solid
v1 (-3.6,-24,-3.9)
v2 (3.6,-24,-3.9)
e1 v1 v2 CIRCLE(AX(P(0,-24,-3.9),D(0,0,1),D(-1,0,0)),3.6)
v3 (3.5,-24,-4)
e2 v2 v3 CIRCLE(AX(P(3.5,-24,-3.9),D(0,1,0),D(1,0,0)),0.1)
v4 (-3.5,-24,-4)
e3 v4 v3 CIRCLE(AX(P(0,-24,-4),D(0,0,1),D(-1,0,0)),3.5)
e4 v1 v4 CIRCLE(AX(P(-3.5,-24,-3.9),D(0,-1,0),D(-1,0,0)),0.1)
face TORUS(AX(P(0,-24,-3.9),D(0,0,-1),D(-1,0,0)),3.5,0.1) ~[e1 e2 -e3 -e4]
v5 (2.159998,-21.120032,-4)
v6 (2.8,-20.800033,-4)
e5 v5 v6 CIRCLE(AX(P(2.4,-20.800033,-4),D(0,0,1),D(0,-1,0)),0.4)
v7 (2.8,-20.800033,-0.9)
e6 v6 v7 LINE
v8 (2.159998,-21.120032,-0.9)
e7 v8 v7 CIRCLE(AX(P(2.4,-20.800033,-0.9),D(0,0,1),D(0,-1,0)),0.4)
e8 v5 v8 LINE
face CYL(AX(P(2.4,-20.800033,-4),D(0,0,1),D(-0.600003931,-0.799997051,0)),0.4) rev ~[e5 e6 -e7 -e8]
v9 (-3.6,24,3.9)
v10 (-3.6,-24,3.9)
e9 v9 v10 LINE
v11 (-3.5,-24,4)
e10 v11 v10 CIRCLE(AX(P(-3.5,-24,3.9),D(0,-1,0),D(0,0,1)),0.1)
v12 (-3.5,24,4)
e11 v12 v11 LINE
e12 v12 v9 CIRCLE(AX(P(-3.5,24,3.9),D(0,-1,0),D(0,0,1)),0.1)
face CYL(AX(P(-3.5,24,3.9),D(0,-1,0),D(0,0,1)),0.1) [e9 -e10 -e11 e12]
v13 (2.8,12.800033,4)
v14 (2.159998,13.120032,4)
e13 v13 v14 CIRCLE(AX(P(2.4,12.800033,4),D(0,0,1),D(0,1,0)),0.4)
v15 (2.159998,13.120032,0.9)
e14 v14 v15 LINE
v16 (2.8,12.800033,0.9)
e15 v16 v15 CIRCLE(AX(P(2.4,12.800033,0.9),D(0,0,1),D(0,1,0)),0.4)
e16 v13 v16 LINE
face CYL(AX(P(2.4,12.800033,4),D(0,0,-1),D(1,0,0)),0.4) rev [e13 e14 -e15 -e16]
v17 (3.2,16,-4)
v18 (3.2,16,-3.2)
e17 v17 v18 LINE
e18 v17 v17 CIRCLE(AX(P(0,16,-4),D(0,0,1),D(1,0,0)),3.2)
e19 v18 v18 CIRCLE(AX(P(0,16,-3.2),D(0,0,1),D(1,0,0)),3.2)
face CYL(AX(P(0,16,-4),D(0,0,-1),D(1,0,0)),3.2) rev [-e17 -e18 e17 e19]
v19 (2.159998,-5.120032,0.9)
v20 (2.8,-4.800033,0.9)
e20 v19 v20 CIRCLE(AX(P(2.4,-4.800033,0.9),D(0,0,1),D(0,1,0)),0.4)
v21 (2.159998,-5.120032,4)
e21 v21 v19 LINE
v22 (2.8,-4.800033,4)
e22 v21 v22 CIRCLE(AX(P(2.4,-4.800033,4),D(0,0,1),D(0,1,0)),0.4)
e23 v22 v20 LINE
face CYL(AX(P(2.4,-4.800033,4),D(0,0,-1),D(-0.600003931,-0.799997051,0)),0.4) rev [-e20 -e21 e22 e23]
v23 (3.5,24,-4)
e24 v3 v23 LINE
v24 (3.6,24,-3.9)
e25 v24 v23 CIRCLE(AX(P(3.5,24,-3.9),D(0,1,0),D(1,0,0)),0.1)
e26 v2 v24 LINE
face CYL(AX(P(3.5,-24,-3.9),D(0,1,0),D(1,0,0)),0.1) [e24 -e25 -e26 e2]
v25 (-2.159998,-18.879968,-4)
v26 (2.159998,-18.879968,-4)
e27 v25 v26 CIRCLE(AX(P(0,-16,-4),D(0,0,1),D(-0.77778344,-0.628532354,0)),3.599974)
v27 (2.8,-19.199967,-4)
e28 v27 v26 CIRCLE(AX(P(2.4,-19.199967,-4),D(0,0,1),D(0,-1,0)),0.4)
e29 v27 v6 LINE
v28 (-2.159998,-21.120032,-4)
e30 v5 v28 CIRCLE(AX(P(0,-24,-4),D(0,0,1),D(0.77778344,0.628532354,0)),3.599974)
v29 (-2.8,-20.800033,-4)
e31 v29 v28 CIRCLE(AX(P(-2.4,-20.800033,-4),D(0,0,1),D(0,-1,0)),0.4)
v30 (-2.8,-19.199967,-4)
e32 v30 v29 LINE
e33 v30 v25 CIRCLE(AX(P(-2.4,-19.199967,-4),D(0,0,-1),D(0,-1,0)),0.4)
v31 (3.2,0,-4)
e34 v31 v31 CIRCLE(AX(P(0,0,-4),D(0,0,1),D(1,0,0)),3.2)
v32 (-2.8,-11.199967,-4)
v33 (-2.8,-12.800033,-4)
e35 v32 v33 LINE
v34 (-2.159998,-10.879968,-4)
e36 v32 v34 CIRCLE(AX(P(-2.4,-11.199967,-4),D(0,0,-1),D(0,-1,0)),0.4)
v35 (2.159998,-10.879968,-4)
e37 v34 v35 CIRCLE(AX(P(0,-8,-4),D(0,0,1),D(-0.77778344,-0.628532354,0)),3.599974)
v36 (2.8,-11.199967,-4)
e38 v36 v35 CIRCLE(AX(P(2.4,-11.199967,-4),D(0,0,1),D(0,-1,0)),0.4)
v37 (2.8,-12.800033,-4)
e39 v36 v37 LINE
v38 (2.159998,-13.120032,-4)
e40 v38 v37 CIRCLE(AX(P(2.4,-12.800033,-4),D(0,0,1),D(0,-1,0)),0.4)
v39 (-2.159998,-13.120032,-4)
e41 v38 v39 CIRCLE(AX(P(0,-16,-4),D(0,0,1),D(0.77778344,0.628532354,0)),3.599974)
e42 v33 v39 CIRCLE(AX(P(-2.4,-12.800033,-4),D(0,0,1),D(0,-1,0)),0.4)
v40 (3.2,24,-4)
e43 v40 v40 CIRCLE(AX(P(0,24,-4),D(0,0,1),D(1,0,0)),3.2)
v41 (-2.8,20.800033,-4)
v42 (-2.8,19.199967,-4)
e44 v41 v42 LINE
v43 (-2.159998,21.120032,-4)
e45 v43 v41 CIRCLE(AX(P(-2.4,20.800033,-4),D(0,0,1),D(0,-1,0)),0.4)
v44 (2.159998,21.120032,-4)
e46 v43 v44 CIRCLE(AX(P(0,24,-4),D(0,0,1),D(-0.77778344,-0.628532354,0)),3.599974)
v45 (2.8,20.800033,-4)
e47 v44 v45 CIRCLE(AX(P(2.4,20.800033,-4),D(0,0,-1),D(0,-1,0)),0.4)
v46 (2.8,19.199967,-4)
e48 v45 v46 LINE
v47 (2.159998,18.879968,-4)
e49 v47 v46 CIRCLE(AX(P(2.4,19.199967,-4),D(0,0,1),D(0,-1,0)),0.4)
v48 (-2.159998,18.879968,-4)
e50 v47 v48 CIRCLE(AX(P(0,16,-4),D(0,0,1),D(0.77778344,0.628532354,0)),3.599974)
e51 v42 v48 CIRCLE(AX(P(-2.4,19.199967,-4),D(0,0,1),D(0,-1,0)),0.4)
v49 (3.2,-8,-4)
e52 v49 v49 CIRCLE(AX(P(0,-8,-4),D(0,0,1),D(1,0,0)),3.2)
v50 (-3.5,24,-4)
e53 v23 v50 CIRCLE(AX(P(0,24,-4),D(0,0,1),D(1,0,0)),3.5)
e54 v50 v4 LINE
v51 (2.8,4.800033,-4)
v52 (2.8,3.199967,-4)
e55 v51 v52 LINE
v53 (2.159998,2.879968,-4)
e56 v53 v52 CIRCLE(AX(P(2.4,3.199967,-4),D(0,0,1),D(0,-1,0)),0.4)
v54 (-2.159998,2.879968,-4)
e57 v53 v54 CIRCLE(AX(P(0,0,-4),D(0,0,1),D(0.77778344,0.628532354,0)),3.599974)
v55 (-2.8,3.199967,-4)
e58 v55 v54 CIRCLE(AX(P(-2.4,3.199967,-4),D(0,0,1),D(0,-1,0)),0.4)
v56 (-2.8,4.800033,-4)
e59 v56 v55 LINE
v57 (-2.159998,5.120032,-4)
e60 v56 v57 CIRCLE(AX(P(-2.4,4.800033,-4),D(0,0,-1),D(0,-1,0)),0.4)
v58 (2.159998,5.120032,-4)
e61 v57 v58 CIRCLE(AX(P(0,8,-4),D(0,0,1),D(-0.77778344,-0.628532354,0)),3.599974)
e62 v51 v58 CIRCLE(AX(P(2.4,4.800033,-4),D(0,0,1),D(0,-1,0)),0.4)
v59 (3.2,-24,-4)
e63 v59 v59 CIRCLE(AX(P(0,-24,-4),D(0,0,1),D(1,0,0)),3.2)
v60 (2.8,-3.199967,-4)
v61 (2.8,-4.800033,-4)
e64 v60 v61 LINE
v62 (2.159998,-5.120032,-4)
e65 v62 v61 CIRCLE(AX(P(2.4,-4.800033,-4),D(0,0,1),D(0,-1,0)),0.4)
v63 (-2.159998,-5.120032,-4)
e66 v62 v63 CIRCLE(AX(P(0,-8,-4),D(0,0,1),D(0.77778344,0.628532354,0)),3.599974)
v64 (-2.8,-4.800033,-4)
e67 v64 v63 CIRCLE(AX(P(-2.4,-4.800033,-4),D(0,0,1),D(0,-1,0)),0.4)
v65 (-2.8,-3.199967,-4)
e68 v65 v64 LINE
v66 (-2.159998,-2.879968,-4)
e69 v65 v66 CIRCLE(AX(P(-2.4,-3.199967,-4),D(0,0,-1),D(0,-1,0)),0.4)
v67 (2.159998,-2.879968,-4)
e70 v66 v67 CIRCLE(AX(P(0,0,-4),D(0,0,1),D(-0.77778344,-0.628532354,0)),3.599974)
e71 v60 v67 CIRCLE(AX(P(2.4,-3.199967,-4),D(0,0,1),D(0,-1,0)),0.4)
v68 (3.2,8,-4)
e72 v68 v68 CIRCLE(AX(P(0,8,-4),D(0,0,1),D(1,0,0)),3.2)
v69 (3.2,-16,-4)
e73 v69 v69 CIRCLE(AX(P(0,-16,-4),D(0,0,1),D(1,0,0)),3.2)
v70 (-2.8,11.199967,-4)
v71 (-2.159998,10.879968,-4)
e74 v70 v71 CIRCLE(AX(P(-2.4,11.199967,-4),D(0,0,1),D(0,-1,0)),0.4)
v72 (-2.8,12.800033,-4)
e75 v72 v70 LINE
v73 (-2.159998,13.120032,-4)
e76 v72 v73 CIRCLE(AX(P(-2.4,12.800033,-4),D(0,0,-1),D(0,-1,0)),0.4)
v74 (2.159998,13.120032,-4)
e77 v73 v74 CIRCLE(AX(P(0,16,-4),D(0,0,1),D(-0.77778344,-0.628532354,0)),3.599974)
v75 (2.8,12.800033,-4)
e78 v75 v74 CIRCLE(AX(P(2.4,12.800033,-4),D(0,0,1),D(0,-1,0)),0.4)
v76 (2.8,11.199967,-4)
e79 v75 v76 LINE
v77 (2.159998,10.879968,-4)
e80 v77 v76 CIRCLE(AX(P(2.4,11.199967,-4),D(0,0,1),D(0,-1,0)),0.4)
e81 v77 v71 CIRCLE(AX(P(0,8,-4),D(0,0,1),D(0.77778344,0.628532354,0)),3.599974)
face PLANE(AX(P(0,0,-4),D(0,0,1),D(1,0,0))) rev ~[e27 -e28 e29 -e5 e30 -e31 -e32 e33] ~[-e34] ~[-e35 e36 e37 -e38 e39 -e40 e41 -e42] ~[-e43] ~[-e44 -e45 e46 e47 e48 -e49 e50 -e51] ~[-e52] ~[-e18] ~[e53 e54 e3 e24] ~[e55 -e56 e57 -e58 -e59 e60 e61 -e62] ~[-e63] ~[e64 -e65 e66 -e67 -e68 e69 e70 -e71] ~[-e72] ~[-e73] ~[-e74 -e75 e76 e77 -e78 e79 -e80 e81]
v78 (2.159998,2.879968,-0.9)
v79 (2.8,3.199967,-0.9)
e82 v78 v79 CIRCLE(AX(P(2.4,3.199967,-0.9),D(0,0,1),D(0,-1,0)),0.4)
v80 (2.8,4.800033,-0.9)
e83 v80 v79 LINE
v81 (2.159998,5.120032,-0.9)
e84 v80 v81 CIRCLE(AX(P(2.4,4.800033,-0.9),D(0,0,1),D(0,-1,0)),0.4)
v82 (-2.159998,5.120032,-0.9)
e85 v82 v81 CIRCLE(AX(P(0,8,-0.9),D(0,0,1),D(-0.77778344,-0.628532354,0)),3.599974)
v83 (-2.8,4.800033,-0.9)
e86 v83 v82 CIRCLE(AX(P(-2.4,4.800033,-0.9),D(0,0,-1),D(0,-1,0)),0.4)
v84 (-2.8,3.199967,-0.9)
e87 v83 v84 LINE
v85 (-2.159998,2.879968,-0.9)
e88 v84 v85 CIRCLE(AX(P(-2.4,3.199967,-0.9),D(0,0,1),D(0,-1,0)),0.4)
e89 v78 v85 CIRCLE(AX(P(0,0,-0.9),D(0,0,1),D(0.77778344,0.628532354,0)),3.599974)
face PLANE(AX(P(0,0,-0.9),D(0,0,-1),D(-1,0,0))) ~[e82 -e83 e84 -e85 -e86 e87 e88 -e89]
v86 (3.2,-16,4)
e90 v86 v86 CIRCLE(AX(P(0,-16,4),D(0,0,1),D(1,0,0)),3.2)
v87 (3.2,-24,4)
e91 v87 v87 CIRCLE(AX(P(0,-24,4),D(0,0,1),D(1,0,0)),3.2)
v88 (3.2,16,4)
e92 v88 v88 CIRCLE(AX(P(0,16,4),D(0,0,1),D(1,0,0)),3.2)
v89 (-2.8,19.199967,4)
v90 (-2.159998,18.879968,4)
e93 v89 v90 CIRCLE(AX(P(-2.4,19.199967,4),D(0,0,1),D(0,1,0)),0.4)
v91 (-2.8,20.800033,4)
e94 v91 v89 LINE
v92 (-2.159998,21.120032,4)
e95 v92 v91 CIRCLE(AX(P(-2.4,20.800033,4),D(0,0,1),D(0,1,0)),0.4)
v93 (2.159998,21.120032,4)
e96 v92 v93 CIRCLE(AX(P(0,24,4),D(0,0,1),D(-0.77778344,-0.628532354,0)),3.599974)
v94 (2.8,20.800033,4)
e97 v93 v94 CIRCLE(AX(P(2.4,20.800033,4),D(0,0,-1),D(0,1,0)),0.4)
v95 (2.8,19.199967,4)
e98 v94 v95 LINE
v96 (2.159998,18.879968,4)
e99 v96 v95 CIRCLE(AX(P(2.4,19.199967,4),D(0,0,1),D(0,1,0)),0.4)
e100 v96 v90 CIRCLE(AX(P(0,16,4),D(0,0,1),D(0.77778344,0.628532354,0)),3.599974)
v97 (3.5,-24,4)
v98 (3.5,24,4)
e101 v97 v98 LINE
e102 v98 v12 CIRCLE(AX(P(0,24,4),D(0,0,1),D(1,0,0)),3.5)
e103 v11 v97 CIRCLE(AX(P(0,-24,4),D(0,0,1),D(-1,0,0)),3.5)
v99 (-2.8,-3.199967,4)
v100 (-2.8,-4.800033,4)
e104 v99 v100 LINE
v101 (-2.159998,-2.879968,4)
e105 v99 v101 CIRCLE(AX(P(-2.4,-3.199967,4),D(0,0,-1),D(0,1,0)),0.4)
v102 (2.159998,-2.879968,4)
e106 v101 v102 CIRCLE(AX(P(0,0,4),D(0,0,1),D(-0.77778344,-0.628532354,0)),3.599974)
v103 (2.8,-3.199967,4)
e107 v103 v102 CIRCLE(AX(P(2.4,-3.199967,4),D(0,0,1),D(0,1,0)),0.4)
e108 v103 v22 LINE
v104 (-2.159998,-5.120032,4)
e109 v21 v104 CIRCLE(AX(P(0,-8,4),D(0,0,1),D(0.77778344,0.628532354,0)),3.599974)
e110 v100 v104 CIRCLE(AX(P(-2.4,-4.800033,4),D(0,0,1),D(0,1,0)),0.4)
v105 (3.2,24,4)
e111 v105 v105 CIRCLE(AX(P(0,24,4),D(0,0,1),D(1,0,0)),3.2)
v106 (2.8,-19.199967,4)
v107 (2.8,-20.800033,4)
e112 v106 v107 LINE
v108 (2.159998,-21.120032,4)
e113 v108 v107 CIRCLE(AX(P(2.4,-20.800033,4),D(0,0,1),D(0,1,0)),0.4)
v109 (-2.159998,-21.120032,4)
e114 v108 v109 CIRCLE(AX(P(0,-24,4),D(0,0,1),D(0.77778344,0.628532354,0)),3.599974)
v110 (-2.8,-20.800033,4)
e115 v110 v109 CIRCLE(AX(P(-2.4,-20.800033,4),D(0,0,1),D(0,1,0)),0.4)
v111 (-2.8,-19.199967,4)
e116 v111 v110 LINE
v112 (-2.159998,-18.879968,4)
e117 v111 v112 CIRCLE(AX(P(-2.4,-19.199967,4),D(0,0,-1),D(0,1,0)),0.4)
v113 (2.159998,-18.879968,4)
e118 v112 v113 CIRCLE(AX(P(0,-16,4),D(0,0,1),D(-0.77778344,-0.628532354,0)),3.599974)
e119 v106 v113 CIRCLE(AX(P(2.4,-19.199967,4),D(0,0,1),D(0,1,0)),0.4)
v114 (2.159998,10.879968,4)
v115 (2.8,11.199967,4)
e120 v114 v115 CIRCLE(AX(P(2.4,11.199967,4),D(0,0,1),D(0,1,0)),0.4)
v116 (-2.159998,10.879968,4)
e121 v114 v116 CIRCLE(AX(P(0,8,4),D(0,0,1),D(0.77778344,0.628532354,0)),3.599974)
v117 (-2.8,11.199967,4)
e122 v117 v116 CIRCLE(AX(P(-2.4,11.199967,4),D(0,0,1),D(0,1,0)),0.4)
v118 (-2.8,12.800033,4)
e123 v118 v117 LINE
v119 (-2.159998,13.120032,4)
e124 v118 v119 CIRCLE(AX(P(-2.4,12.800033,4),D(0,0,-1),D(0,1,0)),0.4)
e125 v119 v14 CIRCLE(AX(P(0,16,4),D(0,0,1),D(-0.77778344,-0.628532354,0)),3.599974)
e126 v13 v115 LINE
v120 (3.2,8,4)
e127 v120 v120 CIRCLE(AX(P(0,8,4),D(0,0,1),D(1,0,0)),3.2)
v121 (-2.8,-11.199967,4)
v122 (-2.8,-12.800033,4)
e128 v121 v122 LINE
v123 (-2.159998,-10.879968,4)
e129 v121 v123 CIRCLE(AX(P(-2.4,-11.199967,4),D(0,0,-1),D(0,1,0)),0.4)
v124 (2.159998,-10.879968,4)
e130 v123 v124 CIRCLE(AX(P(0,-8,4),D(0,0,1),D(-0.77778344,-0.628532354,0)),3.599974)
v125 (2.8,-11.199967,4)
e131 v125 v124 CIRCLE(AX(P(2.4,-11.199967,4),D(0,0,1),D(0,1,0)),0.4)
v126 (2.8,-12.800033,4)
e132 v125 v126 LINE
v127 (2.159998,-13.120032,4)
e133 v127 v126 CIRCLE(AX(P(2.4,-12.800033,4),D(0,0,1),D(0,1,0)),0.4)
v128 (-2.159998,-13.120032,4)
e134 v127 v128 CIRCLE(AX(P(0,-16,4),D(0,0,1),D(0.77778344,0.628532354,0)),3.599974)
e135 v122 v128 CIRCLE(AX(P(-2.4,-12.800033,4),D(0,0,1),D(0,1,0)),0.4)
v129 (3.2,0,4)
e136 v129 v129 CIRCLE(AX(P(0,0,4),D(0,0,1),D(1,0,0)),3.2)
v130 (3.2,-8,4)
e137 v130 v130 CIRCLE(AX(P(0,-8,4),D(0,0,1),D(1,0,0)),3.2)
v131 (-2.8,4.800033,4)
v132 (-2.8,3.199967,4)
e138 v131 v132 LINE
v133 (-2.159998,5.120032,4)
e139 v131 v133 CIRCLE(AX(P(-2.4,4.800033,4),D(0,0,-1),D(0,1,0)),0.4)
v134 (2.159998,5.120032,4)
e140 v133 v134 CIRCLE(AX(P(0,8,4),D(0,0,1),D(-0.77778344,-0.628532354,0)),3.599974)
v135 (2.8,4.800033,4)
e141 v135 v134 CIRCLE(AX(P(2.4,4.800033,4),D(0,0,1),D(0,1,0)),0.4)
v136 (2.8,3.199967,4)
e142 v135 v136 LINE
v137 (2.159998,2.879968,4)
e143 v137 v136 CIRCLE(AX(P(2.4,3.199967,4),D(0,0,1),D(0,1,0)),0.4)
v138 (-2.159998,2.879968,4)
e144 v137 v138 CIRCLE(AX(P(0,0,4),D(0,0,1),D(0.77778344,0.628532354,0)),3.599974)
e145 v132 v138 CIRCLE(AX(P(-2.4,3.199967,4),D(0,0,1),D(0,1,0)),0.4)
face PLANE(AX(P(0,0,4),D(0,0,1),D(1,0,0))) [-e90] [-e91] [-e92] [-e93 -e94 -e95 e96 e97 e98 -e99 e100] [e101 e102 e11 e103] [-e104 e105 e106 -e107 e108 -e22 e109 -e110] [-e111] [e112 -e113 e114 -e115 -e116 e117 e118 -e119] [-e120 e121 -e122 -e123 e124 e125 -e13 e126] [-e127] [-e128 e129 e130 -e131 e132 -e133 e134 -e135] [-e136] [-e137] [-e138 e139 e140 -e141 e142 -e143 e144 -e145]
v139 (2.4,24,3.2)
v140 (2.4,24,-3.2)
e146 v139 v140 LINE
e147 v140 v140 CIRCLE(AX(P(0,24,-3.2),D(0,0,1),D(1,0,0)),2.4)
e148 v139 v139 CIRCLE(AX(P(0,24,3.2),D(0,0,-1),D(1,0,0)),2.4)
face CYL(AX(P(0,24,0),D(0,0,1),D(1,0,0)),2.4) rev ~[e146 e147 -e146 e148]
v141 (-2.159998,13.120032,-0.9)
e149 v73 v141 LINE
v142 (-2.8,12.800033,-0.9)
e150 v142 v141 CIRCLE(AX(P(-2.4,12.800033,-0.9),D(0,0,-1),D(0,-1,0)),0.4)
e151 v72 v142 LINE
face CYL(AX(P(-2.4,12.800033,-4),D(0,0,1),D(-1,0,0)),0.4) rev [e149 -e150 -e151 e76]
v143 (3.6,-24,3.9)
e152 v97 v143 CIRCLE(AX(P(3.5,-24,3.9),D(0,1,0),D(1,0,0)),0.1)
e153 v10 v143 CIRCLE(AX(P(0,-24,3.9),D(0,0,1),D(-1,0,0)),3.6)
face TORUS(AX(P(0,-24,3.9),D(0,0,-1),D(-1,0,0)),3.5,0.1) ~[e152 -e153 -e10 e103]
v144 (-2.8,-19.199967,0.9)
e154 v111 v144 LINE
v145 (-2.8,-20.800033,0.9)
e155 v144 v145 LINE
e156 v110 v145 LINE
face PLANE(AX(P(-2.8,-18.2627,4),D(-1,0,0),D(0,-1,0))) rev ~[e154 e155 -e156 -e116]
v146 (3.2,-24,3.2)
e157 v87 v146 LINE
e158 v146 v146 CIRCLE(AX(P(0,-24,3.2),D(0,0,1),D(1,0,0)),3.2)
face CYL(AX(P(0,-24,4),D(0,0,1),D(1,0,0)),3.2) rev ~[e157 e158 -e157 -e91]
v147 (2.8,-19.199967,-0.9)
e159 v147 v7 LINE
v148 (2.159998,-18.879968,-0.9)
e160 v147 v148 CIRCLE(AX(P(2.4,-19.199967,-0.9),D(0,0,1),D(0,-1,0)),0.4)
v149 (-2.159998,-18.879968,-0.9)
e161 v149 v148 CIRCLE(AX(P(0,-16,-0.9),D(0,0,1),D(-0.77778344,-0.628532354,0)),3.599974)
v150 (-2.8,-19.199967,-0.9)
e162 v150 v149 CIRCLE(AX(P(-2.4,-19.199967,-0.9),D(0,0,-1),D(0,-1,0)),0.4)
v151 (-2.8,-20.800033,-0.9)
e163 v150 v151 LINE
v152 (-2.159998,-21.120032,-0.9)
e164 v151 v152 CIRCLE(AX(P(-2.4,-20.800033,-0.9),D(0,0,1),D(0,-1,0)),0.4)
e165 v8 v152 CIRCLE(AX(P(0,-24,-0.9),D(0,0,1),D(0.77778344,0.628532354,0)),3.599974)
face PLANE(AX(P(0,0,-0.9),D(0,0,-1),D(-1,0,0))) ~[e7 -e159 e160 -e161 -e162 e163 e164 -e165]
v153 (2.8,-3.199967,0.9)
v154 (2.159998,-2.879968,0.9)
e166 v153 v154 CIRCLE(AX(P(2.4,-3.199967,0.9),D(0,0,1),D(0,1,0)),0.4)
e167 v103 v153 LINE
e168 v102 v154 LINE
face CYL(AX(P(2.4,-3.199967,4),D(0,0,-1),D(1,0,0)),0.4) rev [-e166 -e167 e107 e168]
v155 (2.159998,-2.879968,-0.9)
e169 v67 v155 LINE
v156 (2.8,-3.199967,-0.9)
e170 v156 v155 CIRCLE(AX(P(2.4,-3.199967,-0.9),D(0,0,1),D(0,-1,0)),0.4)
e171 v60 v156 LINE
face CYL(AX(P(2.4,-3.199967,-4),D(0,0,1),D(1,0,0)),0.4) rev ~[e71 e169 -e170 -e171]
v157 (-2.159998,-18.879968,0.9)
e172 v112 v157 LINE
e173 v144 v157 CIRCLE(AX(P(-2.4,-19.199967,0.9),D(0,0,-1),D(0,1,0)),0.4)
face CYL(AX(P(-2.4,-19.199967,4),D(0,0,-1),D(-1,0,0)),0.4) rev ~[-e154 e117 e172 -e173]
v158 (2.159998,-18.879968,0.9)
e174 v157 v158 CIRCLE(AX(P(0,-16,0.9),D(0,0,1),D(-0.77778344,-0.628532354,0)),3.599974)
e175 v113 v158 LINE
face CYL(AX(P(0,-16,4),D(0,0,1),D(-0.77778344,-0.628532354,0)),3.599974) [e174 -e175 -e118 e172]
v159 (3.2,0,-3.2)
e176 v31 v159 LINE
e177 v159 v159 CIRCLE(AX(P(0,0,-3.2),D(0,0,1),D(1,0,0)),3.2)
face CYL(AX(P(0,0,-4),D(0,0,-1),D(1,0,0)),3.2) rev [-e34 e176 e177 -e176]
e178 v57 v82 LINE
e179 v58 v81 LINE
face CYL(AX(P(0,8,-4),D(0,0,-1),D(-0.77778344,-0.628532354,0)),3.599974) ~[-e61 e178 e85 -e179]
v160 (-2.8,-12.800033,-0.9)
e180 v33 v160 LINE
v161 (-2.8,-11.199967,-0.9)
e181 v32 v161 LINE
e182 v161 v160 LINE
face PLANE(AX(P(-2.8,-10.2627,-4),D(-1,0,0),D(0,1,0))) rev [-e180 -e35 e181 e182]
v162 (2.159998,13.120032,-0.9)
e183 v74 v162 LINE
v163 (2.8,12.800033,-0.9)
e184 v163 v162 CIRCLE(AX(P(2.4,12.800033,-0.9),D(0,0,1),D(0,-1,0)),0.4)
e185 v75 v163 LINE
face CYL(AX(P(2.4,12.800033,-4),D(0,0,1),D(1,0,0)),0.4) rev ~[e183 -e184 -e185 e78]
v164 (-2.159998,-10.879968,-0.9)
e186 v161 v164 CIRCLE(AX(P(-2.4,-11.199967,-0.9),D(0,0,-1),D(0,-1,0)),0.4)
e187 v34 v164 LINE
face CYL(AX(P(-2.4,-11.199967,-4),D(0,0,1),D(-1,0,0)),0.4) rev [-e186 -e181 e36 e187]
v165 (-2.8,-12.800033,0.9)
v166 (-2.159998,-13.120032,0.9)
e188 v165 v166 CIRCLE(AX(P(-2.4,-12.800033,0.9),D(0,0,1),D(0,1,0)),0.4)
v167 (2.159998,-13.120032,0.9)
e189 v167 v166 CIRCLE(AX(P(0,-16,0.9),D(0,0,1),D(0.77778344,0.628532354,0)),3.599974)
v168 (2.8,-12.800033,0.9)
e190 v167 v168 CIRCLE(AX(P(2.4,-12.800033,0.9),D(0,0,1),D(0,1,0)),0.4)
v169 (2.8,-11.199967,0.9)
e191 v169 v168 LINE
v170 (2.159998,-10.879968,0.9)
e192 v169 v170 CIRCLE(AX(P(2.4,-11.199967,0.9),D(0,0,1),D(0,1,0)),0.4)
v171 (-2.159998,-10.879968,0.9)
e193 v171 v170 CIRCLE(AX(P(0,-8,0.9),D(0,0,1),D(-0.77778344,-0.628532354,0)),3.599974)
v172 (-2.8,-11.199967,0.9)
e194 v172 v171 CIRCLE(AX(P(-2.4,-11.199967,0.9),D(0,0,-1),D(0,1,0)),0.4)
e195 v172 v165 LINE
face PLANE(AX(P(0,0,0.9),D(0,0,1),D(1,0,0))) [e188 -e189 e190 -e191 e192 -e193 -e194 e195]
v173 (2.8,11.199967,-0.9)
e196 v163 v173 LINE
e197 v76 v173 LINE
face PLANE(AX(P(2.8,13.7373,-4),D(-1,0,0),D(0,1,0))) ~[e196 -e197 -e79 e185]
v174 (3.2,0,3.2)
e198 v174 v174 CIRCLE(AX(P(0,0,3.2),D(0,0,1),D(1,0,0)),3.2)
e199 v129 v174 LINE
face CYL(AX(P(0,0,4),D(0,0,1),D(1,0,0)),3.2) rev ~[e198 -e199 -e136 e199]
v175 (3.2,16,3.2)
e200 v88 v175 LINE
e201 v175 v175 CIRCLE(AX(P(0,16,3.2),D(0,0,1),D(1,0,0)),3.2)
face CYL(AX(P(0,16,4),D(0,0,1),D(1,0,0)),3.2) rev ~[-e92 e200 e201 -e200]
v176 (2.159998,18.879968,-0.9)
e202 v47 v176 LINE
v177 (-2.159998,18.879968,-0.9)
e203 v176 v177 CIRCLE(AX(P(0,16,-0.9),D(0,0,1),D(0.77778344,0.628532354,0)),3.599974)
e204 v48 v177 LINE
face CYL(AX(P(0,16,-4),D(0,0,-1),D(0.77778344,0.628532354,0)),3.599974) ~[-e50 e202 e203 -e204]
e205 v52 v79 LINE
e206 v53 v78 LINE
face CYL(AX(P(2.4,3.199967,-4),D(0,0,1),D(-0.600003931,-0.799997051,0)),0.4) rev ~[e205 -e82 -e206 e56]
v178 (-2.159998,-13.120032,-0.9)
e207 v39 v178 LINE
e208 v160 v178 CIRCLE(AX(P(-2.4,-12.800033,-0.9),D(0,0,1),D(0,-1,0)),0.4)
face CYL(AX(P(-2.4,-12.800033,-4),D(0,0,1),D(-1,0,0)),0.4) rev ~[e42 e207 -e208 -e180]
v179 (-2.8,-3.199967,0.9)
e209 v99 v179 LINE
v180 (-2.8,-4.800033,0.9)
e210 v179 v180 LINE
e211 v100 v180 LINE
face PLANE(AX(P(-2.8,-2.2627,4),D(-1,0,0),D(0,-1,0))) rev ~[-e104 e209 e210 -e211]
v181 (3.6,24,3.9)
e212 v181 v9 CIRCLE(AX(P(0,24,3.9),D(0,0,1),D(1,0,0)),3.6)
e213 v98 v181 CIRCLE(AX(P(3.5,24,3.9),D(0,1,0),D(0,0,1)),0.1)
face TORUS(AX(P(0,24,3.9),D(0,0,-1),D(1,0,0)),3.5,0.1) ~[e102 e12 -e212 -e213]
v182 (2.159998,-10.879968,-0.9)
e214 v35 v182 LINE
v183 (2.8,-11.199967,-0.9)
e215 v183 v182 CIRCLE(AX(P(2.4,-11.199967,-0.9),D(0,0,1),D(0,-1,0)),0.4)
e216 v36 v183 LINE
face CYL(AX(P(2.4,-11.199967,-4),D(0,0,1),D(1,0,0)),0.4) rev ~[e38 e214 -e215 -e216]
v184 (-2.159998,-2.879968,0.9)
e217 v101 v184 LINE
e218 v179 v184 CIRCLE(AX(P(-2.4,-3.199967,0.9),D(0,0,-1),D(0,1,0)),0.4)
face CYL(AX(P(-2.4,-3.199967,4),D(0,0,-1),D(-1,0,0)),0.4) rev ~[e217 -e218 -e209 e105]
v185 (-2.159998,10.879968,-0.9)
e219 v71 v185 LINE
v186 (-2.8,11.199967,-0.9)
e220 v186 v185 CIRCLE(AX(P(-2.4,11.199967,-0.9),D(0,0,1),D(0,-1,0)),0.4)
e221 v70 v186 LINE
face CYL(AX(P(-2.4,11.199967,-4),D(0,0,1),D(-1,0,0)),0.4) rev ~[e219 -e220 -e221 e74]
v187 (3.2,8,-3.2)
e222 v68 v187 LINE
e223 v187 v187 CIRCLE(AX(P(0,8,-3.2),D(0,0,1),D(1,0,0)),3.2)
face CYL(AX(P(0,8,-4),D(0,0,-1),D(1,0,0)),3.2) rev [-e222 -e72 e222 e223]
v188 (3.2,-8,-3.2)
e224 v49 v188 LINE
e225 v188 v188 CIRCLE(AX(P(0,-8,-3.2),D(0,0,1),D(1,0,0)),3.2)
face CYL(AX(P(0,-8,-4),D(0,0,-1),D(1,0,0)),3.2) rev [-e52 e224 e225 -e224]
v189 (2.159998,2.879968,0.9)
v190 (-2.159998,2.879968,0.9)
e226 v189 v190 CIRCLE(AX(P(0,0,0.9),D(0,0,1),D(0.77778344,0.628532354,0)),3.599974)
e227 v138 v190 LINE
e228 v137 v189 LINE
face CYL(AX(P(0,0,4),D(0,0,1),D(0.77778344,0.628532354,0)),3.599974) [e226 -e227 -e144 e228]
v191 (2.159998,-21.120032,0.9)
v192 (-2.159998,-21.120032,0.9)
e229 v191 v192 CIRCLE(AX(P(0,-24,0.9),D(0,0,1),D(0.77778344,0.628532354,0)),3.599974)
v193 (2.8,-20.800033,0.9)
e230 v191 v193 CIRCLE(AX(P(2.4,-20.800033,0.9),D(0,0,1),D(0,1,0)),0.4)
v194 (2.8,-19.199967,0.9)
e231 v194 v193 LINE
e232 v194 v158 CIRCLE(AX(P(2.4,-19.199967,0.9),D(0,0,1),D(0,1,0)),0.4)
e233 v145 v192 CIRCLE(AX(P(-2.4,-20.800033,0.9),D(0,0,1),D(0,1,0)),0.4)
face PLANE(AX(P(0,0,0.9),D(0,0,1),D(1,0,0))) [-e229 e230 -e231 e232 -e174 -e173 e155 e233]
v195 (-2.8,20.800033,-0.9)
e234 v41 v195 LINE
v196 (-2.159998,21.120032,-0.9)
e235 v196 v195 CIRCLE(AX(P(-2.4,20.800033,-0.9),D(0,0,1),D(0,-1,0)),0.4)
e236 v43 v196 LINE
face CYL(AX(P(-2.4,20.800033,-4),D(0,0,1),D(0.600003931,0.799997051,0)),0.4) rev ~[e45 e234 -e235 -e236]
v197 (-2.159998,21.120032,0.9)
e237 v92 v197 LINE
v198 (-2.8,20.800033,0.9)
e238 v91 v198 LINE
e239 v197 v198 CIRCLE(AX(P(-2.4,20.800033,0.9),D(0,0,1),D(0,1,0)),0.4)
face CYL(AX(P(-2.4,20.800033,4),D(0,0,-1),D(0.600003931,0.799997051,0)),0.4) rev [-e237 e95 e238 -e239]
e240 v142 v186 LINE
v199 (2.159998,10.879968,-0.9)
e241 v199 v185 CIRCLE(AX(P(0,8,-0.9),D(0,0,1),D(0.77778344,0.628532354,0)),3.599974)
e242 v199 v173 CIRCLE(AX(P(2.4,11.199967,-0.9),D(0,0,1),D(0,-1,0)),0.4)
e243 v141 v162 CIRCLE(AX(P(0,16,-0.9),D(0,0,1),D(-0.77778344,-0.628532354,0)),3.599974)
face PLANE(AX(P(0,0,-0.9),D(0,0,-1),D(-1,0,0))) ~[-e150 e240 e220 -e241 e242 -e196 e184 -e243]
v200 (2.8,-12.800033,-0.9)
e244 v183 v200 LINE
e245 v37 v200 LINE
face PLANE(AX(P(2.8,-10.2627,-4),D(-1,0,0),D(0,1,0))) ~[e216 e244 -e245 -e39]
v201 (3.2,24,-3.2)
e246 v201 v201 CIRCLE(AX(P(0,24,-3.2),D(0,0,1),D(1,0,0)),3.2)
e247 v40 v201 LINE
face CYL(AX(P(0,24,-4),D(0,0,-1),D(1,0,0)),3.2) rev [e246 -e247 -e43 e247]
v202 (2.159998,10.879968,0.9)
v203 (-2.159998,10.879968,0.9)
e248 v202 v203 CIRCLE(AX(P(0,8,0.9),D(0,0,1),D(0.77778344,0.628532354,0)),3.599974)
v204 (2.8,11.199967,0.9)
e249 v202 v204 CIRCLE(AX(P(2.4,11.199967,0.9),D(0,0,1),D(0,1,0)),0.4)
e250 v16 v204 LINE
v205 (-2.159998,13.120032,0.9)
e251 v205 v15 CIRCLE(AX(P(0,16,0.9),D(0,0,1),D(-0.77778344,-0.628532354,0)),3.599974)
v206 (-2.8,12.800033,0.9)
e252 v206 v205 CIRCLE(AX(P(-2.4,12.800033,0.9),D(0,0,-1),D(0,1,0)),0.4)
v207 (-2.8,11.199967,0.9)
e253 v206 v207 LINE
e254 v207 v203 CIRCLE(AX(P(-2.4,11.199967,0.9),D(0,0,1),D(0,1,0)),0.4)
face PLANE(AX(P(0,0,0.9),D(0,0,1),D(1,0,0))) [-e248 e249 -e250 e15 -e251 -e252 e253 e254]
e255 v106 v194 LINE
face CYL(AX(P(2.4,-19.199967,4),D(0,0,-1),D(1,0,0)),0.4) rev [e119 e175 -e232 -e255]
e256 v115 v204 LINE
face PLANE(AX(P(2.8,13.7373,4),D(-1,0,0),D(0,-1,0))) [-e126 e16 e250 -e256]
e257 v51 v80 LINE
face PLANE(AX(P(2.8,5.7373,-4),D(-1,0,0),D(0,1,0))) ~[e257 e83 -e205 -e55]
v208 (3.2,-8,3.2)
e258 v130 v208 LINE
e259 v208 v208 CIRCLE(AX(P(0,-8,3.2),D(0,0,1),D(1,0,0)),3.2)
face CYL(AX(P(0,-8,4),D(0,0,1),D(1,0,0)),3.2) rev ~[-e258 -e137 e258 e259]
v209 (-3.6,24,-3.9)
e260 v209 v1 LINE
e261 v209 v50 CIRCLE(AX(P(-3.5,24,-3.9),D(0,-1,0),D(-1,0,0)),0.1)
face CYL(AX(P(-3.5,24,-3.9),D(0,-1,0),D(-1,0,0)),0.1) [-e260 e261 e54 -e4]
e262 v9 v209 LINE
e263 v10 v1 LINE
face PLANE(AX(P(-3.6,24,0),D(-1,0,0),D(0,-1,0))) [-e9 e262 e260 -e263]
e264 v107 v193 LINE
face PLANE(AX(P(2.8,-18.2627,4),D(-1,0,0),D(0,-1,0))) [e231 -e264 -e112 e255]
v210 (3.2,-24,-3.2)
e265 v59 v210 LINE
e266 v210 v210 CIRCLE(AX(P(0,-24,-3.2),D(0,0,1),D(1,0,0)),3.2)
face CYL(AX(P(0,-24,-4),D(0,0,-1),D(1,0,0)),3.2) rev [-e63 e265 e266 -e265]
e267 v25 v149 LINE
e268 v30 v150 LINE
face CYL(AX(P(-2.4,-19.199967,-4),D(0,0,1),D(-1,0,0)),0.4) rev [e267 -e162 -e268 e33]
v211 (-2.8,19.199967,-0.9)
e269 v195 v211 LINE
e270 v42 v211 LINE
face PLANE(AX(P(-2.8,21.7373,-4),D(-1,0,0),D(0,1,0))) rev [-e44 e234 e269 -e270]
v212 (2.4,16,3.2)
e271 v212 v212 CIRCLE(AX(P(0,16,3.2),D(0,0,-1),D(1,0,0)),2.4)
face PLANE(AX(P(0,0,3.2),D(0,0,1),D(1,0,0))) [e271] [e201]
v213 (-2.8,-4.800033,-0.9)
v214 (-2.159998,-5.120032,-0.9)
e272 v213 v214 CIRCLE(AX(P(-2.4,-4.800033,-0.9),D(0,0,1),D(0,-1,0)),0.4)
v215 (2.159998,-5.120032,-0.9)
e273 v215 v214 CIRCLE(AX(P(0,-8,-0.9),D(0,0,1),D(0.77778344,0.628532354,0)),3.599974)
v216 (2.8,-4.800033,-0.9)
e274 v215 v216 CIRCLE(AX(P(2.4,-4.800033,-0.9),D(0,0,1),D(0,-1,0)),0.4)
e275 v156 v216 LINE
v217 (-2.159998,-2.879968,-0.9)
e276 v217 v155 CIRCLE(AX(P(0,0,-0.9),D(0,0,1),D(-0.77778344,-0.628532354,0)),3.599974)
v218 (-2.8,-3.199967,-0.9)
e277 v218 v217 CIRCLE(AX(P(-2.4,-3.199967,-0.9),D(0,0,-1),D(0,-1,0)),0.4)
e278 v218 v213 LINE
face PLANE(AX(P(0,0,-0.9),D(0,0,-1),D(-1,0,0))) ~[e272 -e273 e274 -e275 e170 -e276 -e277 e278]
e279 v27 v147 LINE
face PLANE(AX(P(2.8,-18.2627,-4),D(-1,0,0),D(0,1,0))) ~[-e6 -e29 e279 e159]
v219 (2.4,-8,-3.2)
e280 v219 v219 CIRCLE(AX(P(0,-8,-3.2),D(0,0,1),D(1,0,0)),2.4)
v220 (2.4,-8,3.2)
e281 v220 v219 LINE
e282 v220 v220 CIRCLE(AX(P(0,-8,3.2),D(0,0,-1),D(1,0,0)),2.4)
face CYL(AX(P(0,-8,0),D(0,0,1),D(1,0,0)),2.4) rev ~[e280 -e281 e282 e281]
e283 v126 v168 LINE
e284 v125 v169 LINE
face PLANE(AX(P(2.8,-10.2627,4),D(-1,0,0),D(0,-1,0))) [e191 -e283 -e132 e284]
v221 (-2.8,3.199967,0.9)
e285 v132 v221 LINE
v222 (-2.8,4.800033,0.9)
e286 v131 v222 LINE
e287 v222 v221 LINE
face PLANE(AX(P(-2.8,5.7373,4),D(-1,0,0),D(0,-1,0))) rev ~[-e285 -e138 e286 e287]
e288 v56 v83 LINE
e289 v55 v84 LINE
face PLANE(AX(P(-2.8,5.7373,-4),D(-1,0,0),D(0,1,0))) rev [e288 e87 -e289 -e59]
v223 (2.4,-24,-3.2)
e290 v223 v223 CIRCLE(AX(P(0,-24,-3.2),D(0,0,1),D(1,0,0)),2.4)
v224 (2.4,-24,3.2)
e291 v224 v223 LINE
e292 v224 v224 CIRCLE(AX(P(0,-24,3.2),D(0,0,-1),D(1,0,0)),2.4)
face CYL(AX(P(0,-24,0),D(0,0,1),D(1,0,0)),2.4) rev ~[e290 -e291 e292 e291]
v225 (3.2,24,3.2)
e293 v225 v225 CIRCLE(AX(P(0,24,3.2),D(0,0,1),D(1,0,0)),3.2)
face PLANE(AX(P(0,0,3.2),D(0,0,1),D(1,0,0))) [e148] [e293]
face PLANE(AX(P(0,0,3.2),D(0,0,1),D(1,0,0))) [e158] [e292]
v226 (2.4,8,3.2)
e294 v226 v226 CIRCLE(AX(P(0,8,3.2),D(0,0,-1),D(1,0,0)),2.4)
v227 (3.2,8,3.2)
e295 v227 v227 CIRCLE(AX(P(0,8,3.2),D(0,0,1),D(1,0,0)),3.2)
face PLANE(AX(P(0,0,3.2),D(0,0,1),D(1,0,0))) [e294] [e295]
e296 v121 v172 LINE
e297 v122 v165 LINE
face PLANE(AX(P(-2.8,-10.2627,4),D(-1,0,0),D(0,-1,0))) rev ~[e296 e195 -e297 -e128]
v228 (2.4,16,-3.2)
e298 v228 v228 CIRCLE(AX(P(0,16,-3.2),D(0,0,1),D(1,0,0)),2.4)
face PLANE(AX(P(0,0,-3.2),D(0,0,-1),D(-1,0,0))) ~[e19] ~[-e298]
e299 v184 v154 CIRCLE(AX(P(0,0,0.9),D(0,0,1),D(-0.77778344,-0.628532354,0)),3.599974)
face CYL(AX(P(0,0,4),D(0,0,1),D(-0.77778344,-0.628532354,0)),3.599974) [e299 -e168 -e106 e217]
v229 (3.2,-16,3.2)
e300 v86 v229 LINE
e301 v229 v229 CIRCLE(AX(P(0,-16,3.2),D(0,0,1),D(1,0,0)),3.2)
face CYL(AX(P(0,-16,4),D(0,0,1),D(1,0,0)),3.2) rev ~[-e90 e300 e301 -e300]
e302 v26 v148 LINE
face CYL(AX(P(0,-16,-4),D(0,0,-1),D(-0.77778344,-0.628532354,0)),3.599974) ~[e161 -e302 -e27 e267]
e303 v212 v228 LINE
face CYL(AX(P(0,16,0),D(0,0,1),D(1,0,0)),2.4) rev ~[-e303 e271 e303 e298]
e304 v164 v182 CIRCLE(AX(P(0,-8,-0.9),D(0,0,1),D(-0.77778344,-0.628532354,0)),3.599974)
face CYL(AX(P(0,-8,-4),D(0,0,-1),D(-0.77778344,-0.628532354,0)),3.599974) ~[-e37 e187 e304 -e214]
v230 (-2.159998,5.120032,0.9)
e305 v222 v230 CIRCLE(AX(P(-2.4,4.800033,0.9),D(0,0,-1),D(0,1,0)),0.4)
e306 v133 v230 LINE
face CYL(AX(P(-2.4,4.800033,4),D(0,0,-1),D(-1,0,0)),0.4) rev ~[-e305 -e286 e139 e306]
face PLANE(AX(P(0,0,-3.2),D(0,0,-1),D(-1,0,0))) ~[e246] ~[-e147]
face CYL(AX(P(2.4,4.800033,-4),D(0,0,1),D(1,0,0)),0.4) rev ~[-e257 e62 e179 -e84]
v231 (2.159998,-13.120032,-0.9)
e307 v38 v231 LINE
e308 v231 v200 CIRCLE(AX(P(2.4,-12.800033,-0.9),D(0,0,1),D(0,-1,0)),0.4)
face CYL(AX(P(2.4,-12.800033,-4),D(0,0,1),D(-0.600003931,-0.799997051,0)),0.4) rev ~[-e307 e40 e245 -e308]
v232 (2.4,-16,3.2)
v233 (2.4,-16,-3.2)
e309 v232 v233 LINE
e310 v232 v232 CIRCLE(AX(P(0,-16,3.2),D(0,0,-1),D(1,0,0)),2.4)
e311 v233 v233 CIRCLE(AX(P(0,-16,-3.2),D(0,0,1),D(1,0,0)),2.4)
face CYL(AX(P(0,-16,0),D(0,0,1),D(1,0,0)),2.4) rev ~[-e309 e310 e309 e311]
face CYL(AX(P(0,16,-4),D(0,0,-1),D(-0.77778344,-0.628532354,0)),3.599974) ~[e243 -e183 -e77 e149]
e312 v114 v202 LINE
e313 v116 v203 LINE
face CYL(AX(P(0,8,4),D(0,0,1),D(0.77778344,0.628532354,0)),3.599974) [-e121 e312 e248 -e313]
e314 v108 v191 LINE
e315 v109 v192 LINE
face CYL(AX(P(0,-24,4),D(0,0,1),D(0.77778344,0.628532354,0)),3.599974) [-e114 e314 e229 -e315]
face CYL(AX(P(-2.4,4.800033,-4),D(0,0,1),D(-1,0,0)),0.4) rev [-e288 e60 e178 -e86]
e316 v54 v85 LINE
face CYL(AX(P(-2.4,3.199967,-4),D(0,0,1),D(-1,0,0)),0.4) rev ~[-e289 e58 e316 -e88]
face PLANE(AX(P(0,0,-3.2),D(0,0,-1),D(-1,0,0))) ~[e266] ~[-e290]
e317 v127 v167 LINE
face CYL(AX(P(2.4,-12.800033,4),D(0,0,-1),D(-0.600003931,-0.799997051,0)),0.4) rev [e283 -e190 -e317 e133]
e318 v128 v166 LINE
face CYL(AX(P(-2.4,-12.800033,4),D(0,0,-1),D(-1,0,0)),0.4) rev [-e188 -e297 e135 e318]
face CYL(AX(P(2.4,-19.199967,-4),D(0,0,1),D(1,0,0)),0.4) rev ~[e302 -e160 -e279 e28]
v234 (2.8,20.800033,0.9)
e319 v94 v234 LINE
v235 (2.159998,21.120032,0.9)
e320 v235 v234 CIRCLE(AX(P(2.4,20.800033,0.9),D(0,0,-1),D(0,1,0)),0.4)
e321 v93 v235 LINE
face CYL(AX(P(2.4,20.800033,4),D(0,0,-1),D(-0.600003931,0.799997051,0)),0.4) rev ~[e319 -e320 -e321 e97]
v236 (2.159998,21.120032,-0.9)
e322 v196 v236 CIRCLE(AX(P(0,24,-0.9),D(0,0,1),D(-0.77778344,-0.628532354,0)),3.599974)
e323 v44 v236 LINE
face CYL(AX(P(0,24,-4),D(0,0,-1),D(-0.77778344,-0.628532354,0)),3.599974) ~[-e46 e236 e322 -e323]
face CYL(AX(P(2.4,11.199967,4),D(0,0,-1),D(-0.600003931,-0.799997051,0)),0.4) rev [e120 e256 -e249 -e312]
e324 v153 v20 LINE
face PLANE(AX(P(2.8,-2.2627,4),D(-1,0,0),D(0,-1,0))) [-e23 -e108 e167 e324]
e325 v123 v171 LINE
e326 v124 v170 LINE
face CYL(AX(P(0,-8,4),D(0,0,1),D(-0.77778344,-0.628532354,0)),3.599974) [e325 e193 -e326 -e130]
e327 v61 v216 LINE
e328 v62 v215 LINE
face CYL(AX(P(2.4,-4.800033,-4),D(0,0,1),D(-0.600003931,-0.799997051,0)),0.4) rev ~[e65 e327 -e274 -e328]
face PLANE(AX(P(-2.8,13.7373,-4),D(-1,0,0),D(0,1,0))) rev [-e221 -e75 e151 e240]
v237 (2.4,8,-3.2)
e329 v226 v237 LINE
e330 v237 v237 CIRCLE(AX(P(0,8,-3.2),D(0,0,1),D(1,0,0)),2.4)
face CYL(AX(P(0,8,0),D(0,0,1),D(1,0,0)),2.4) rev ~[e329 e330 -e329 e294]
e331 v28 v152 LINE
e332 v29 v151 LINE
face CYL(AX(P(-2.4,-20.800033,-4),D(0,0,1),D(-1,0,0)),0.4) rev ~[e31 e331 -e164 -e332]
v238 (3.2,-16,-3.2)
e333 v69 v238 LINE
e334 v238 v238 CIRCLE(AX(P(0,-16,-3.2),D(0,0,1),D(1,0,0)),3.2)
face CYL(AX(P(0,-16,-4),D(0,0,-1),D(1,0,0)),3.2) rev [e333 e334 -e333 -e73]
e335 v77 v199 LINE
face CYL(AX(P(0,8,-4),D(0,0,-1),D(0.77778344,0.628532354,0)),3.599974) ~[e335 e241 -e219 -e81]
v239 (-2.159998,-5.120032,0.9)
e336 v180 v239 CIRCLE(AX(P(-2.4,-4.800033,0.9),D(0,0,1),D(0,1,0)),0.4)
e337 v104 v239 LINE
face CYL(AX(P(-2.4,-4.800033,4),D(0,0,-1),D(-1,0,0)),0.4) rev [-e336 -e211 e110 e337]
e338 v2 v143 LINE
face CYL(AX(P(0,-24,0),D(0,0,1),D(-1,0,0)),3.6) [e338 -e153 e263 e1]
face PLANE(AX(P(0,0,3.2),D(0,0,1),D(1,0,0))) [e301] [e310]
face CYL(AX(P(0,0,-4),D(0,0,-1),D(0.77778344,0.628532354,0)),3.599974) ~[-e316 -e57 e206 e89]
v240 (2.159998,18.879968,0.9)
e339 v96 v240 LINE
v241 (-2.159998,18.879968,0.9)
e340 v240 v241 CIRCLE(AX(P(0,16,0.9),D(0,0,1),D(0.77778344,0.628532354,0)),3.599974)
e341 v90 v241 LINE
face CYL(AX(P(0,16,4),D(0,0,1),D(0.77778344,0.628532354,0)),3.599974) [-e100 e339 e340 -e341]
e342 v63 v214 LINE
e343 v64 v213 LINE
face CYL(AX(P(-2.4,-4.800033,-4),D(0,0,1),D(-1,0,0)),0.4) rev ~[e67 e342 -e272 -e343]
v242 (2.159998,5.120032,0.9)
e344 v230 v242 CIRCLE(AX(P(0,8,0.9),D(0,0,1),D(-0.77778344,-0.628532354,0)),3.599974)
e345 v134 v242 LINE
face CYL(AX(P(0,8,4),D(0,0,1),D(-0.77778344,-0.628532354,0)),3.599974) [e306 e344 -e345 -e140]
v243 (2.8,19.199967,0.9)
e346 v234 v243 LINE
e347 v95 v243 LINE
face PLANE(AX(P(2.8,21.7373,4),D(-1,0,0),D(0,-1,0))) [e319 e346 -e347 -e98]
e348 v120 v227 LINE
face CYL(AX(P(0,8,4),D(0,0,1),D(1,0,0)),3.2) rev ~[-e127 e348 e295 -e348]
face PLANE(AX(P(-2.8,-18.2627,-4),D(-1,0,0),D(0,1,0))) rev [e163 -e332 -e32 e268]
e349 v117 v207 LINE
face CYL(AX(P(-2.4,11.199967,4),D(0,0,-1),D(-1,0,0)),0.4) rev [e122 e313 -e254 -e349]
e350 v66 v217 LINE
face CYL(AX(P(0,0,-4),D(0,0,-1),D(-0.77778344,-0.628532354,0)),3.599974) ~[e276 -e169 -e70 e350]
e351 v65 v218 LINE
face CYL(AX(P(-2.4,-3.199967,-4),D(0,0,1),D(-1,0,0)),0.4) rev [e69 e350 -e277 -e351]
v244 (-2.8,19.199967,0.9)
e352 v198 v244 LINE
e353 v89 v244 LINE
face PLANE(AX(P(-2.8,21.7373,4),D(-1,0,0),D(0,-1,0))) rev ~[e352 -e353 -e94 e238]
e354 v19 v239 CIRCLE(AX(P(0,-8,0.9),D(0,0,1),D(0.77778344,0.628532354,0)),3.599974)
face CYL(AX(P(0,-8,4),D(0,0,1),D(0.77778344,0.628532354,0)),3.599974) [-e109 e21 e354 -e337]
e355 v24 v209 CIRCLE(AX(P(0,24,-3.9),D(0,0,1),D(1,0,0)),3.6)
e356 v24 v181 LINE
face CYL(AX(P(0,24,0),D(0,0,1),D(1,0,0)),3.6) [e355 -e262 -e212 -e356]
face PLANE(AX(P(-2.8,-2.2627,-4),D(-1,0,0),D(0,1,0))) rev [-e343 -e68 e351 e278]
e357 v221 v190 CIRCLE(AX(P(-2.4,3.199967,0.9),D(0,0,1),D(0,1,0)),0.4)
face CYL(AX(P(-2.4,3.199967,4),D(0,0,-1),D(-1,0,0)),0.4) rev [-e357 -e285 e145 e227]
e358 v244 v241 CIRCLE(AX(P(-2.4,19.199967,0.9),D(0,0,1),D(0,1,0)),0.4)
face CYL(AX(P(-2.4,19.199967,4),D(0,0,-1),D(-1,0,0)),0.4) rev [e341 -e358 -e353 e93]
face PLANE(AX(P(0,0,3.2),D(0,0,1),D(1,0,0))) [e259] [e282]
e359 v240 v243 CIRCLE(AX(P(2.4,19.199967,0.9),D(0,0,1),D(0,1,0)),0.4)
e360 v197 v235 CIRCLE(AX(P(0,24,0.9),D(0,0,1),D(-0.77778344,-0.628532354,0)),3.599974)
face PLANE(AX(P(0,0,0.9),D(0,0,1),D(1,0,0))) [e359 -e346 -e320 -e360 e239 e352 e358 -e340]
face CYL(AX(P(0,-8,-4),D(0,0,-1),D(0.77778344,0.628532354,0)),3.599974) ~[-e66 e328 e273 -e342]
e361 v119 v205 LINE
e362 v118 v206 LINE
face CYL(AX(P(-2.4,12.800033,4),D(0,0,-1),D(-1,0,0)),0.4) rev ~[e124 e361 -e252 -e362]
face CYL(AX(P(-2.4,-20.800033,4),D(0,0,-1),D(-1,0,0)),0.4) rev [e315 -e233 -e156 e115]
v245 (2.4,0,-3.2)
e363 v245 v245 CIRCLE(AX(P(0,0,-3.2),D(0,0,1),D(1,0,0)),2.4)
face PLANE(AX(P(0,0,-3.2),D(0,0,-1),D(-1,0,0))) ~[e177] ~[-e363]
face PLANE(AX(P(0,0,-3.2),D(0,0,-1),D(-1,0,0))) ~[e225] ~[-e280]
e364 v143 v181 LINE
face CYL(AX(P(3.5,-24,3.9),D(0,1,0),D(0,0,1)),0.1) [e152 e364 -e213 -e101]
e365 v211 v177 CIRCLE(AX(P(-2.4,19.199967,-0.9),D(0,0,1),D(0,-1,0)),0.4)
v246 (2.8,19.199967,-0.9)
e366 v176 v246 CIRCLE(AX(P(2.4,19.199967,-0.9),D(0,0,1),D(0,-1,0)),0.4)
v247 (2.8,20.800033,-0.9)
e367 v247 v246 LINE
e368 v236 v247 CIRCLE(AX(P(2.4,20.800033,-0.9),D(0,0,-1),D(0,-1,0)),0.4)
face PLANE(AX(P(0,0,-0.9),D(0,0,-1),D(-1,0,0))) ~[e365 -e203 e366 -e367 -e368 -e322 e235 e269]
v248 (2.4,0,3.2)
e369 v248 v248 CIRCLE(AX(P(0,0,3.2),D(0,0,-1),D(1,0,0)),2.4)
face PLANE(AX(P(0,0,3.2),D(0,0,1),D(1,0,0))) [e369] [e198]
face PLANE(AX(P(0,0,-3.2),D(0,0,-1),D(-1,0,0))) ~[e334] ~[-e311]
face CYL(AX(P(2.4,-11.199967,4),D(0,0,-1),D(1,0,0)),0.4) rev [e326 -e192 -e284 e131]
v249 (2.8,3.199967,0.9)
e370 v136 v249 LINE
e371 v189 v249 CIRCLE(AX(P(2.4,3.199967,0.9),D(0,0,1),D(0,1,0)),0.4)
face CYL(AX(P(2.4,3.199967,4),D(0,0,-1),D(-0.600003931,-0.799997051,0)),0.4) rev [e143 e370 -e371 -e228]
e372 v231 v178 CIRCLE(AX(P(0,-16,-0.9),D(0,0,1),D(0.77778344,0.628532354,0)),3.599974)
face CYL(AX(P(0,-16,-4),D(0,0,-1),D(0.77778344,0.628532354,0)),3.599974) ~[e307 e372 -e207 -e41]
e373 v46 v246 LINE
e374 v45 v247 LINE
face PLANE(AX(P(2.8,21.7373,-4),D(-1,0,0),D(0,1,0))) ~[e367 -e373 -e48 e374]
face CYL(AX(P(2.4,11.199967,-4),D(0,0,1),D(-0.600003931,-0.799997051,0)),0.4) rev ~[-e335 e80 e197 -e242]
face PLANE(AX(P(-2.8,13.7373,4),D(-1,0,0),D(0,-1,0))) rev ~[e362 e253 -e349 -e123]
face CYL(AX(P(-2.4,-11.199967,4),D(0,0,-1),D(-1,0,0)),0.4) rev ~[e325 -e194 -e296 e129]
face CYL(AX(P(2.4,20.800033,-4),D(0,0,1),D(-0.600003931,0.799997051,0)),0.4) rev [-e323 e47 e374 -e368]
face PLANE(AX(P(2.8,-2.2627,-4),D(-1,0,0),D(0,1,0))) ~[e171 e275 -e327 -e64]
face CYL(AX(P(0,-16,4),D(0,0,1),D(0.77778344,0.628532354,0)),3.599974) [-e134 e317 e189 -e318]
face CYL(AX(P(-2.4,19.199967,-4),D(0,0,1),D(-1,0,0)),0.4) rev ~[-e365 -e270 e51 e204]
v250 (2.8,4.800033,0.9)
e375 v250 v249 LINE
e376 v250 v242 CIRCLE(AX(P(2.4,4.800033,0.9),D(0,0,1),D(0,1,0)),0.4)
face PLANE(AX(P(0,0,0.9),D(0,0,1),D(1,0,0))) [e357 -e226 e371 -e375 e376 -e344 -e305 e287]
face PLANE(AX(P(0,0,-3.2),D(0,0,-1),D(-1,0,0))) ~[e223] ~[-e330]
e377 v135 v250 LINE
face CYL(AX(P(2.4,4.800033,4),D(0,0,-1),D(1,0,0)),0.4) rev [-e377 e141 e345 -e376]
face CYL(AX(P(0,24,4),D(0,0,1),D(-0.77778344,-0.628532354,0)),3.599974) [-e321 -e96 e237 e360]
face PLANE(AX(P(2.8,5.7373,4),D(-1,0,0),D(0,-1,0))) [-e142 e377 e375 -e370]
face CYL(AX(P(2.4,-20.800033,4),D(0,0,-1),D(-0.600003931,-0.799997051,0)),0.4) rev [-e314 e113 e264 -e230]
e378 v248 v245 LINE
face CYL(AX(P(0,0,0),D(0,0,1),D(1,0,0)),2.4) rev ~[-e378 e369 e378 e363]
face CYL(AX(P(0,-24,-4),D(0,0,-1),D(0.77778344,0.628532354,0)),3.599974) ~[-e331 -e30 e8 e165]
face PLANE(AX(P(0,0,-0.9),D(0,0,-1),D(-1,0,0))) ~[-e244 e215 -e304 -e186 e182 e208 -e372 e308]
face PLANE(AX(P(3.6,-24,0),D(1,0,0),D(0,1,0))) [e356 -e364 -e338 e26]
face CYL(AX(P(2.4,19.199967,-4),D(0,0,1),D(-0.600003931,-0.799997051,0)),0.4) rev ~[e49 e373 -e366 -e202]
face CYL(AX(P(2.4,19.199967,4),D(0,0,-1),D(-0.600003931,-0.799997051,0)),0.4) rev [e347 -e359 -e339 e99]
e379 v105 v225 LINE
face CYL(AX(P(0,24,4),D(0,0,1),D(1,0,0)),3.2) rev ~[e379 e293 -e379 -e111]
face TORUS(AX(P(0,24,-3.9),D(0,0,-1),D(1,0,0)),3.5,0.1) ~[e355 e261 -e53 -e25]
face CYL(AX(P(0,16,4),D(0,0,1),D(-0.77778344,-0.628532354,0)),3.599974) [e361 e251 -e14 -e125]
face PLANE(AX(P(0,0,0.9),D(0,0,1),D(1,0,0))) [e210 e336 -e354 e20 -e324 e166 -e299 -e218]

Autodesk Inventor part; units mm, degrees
ref_plane "YZ Plane" through (0, 0, 0) normal (1, 0, 0) x (0, 1, 0)
ref_plane "XZ Plane" through (0, 0, 0) normal (0, 1, 0) x (-1, 0, 0)
ref_plane "XY Plane" through (0, 0, 0) normal (0, 0, 1) x (1, 0, 0)
sketch "Sketch1" plane through (0, 0, 0) normal (0, 0, 1) x (1, 0, 0)
  line L0 (3.6, -24) -> (3.6, 24)
  line L1 (-3.6, 24) -> (-3.6, -24)
  arc A0 (3.6, 24) -> (-3.6, 24) centre (0, 24) ccw
  arc A1 (-3.6, -24) -> (3.6, -24) centre (0, -24) ccw
  circle A2 centre (0, 24) radius 3.2
  circle A3 centre (0, 24) radius 2.4
  line L2 (2.8, 21.7373) -> (2.8, 18.2627)
  line L3 (-2.8, 21.7373) -> (-2.8, 18.2627)
  arc A4 (-2.8, 21.7373) -> (2.8, 21.7373) centre (0, 24) ccw
  arc A5 (2.8, 18.2627) -> (-2.8, 18.2627) centre (0, 16) ccw
  circle A6 centre (0, 16) radius 3.2
  circle A7 centre (0, 16) radius 2.4
  line L4 (2.8, 13.7373) -> (2.8, 10.2627)
  line L5 (-2.8, 13.7373) -> (-2.8, 10.2627)
  arc A8 (-2.8, 13.7373) -> (2.8, 13.7373) centre (0, 16) ccw
  arc A9 (2.8, 10.2627) -> (-2.8, 10.2627) centre (0, 8) ccw
  circle A10 centre (0, 8) radius 3.2
  circle A11 centre (0, 8) radius 2.4
  line L6 (2.8, 5.7373) -> (2.8, 2.2627)
  line L7 (-2.8, 5.7373) -> (-2.8, 2.2627)
  arc A12 (-2.8, 5.7373) -> (2.8, 5.7373) centre (0, 8) ccw
  arc A13 (2.8, 2.2627) -> (-2.8, 2.2627) centre (0, 0) ccw
  circle A14 centre (0, 0) radius 3.2
  circle A15 centre (0, 0) radius 2.4
  line L8 (2.8, -2.2627) -> (2.8, -5.7373)
  line L9 (-2.8, -2.2627) -> (-2.8, -5.7373)
  arc A16 (-2.8, -2.2627) -> (2.8, -2.2627) centre (0, 0) ccw
  arc A17 (2.8, -5.7373) -> (-2.8, -5.7373) centre (0, -8) ccw
  circle A18 centre (0, -8) radius 3.2
  circle A19 centre (0, -8) radius 2.4
  line L10 (2.8, -10.2627) -> (2.8, -13.7373)
  line L11 (-2.8, -10.2627) -> (-2.8, -13.7373)
  arc A20 (-2.8, -10.2627) -> (2.8, -10.2627) centre (0, -8) ccw
  arc A21 (2.8, -13.7373) -> (-2.8, -13.7373) centre (0, -16) ccw
  circle A22 centre (0, -16) radius 3.2
  circle A23 centre (0, -16) radius 2.4
  line L12 (2.8, -18.2627) -> (2.8, -21.7373)
  line L13 (-2.8, -18.2627) -> (-2.8, -21.7373)
  arc A24 (-2.8, -18.2627) -> (2.8, -18.2627) centre (0, -16) ccw
  arc A25 (2.8, -21.7373) -> (-2.8, -21.7373) centre (0, -24) ccw
  circle A26 centre (0, -24) radius 3.2
  circle A27 centre (0, -24) radius 2.4
  point P0 (-3.6, 0)
  dimension "d32" = 7.2
  dimension "d48" = 48
  dimension "d49" = 6.4
  dimension "d50" = 4.8
  dimension "d51" = 8
  dimension "d52" = 0.8
  dimension "d55" = 8
extrude "Extrusion1" add sketch "Sketch1" along normal mid plane 8 contours A1 L1 A0 L0 | A2 | L2 A5 L3 A4 | A6 | L4 A9 L5 A8 | A10 | L6 A13 L7 A12 | A14 | L8 A17 L9 A16 | A18 | L10 A21 L11 A20 | A22 | L12 A25 L13 A24 | A26
sketch "Sketch6" plane through (0, 0, 4) normal (0, 0, 1) x (1, 0, 0)
  circle A0 centre (0, 24) radius 2.4 projected
  circle A1 centre (0, 24) radius 3.2 projected
  line L0 (2.8, 21.7373) -> (2.8, 18.2627) projected
  arc A2 (-2.8, 21.7373) -> (2.8, 21.7373) centre (0, 24) ccw projected
  arc A3 (2.8, 18.2627) -> (-2.8, 18.2627) centre (0, 16) ccw projected
  line L1 (-2.8, 21.7373) -> (-2.8, 18.2627) projected
  arc A4 (-2.8, 13.7373) -> (2.8, 13.7373) centre (0, 16) ccw projected
  arc A5 (2.8, 10.2627) -> (-2.8, 10.2627) centre (0, 8) ccw projected
  line L2 (2.8, 13.7373) -> (2.8, 10.2627) projected
  line L3 (-2.8, 13.7373) -> (-2.8, 10.2627) projected
  circle A6 centre (0, 16) radius 3.2 projected
  circle A7 centre (0, 8) radius 3.2 projected
  arc A8 (-2.8, 5.7373) -> (2.8, 5.7373) centre (0, 8) ccw projected
  arc A9 (2.8, 2.2627) -> (-2.8, 2.2627) centre (0, 0) ccw projected
  line L4 (2.8, 5.7373) -> (2.8, 2.2627) projected
  line L5 (-2.8, 5.7373) -> (-2.8, 2.2627) projected
  circle A10 centre (0, 0) radius 3.2 projected
  arc A11 (-2.8, -2.2627) -> (2.8, -2.2627) centre (0, 0) ccw projected
  arc A12 (2.8, -5.7373) -> (-2.8, -5.7373) centre (0, -8) ccw projected
  line L6 (2.8, -2.2627) -> (2.8, -5.7373) projected
  circle A13 centre (0, -8) radius 3.2 projected
  line L7 (-2.8, -2.2627) -> (-2.8, -5.7373) projected
  arc A14 (-2.8, -10.2627) -> (2.8, -10.2627) centre (0, -8) ccw projected
  arc A15 (2.8, -13.7373) -> (-2.8, -13.7373) centre (0, -16) ccw projected
  line L8 (2.8, -10.2627) -> (2.8, -13.7373) projected
  line L9 (-2.8, -10.2627) -> (-2.8, -13.7373) projected
  circle A16 centre (0, -16) radius 3.2 projected
  arc A17 (-2.8, -18.2627) -> (2.8, -18.2627) centre (0, -16) ccw projected
  arc A18 (2.8, -21.7373) -> (-2.8, -21.7373) centre (0, -24) ccw projected
  line L10 (2.8, -18.2627) -> (2.8, -21.7373) projected
  line L11 (-2.8, -18.2627) -> (-2.8, -21.7373) projected
  circle A19 centre (0, -24) radius 3.2 projected
  circle A20 centre (0, -24) radius 3.1 projected
  circle A21 centre (0, -24) radius 3.1 projected
extrude "Extrusion7" cut sketch "Sketch6" against normal blind 0.8 contours A0 | A1 | A6 | A7 | A10 | A13 | A16 | A19 | A20
extrude "Extrusion8" cut sketch "Sketch6" against normal blind 3.1 contours L0 A3 L1 A2 | A4 L2 A5 L3 | A8 L4 A9 L5 | A11 L6 A12 L7 | A14 L8 A15 L9 | A17 L10 A18 L11
mirror "Mirror1" about plane through (0, 0, 0) normal (0, 0, 1) of "Extrusion7", "Extrusion8"
fillet "Fillet2" radius 0.4 48 edges at (-2.8, 21.7373, 2.45) (-2.8, 18.2627, 2.45) (2.8, 18.2627, 2.45) (2.8, 21.7373, 2.45) (2.8, 10.2627, 2.45) (-2.8, 10.2627, 2.45) (2.8, 13.7373, 2.45) (-2.8, 13.7373, 2.45) (2.8, 5.7373, 2.45) (2.8, 2.2627, 2.45) (-2.8, 2.2627, 2.45) (-2.8, 5.7373, 2.45) (2.8, -2.2627, 2.45) (2.8, -5.7373, 2.45) (-2.8, -5.7373, 2.45) (-2.8, -2.2627, 2.45) (2.8, -10.2627, 2.45) (2.8, -13.7373, 2.45) (-2.8, -13.7373, 2.45) (-2.8, -10.2627, 2.45) (2.8, -18.2627, 2.45) (2.8, -21.7373, 2.45) (-2.8, -21.7373, 2.45) (-2.8, -18.2627, 2.45) (-2.8, -21.7373, -2.45) (-2.8, -18.2627, -2.45) (-2.8, -13.7373, -2.45) (-2.8, -10.2627, -2.45) (-2.8, -5.7373, -2.45) (-2.8, -2.2627, -2.45) (-2.8, 2.2627, -2.45) (-2.8, 5.7373, -2.45) (-2.8, 10.2627, -2.45) (-2.8, 13.7373, -2.45) (-2.8, 18.2627, -2.45) (-2.8, 21.7373, -2.45) (2.8, 21.7373, -2.45) (2.8, 18.2627, -2.45) (2.8, 13.7373, -2.45) (2.8, 10.2627, -2.45) (2.8, 5.7373, -2.45) (2.8, 2.2627, -2.45) (2.8, -2.2627, -2.45) (2.8, -5.7373, -2.45) (2.8, -10.2627, -2.45) (2.8, -13.7373, -2.45) (2.8, -18.2627, -2.45) (2.8, -21.7373, -2.45)
fillet "Fillet2" radius 0.1 8 edges at (-3.6, 0, 4) (0, 27.6, 4) (3.6, 0, 4) (0, -27.6, 4) (0, -27.6, -4) (3.6, 0, -4) (0, 27.6, -4) (-3.6, 0, -4)
equation "\"lf\" = 0.1"
equation "\"tf\" = 0.4"
properties part number "32524-LtBluishGray" material "ABS Plastic"
